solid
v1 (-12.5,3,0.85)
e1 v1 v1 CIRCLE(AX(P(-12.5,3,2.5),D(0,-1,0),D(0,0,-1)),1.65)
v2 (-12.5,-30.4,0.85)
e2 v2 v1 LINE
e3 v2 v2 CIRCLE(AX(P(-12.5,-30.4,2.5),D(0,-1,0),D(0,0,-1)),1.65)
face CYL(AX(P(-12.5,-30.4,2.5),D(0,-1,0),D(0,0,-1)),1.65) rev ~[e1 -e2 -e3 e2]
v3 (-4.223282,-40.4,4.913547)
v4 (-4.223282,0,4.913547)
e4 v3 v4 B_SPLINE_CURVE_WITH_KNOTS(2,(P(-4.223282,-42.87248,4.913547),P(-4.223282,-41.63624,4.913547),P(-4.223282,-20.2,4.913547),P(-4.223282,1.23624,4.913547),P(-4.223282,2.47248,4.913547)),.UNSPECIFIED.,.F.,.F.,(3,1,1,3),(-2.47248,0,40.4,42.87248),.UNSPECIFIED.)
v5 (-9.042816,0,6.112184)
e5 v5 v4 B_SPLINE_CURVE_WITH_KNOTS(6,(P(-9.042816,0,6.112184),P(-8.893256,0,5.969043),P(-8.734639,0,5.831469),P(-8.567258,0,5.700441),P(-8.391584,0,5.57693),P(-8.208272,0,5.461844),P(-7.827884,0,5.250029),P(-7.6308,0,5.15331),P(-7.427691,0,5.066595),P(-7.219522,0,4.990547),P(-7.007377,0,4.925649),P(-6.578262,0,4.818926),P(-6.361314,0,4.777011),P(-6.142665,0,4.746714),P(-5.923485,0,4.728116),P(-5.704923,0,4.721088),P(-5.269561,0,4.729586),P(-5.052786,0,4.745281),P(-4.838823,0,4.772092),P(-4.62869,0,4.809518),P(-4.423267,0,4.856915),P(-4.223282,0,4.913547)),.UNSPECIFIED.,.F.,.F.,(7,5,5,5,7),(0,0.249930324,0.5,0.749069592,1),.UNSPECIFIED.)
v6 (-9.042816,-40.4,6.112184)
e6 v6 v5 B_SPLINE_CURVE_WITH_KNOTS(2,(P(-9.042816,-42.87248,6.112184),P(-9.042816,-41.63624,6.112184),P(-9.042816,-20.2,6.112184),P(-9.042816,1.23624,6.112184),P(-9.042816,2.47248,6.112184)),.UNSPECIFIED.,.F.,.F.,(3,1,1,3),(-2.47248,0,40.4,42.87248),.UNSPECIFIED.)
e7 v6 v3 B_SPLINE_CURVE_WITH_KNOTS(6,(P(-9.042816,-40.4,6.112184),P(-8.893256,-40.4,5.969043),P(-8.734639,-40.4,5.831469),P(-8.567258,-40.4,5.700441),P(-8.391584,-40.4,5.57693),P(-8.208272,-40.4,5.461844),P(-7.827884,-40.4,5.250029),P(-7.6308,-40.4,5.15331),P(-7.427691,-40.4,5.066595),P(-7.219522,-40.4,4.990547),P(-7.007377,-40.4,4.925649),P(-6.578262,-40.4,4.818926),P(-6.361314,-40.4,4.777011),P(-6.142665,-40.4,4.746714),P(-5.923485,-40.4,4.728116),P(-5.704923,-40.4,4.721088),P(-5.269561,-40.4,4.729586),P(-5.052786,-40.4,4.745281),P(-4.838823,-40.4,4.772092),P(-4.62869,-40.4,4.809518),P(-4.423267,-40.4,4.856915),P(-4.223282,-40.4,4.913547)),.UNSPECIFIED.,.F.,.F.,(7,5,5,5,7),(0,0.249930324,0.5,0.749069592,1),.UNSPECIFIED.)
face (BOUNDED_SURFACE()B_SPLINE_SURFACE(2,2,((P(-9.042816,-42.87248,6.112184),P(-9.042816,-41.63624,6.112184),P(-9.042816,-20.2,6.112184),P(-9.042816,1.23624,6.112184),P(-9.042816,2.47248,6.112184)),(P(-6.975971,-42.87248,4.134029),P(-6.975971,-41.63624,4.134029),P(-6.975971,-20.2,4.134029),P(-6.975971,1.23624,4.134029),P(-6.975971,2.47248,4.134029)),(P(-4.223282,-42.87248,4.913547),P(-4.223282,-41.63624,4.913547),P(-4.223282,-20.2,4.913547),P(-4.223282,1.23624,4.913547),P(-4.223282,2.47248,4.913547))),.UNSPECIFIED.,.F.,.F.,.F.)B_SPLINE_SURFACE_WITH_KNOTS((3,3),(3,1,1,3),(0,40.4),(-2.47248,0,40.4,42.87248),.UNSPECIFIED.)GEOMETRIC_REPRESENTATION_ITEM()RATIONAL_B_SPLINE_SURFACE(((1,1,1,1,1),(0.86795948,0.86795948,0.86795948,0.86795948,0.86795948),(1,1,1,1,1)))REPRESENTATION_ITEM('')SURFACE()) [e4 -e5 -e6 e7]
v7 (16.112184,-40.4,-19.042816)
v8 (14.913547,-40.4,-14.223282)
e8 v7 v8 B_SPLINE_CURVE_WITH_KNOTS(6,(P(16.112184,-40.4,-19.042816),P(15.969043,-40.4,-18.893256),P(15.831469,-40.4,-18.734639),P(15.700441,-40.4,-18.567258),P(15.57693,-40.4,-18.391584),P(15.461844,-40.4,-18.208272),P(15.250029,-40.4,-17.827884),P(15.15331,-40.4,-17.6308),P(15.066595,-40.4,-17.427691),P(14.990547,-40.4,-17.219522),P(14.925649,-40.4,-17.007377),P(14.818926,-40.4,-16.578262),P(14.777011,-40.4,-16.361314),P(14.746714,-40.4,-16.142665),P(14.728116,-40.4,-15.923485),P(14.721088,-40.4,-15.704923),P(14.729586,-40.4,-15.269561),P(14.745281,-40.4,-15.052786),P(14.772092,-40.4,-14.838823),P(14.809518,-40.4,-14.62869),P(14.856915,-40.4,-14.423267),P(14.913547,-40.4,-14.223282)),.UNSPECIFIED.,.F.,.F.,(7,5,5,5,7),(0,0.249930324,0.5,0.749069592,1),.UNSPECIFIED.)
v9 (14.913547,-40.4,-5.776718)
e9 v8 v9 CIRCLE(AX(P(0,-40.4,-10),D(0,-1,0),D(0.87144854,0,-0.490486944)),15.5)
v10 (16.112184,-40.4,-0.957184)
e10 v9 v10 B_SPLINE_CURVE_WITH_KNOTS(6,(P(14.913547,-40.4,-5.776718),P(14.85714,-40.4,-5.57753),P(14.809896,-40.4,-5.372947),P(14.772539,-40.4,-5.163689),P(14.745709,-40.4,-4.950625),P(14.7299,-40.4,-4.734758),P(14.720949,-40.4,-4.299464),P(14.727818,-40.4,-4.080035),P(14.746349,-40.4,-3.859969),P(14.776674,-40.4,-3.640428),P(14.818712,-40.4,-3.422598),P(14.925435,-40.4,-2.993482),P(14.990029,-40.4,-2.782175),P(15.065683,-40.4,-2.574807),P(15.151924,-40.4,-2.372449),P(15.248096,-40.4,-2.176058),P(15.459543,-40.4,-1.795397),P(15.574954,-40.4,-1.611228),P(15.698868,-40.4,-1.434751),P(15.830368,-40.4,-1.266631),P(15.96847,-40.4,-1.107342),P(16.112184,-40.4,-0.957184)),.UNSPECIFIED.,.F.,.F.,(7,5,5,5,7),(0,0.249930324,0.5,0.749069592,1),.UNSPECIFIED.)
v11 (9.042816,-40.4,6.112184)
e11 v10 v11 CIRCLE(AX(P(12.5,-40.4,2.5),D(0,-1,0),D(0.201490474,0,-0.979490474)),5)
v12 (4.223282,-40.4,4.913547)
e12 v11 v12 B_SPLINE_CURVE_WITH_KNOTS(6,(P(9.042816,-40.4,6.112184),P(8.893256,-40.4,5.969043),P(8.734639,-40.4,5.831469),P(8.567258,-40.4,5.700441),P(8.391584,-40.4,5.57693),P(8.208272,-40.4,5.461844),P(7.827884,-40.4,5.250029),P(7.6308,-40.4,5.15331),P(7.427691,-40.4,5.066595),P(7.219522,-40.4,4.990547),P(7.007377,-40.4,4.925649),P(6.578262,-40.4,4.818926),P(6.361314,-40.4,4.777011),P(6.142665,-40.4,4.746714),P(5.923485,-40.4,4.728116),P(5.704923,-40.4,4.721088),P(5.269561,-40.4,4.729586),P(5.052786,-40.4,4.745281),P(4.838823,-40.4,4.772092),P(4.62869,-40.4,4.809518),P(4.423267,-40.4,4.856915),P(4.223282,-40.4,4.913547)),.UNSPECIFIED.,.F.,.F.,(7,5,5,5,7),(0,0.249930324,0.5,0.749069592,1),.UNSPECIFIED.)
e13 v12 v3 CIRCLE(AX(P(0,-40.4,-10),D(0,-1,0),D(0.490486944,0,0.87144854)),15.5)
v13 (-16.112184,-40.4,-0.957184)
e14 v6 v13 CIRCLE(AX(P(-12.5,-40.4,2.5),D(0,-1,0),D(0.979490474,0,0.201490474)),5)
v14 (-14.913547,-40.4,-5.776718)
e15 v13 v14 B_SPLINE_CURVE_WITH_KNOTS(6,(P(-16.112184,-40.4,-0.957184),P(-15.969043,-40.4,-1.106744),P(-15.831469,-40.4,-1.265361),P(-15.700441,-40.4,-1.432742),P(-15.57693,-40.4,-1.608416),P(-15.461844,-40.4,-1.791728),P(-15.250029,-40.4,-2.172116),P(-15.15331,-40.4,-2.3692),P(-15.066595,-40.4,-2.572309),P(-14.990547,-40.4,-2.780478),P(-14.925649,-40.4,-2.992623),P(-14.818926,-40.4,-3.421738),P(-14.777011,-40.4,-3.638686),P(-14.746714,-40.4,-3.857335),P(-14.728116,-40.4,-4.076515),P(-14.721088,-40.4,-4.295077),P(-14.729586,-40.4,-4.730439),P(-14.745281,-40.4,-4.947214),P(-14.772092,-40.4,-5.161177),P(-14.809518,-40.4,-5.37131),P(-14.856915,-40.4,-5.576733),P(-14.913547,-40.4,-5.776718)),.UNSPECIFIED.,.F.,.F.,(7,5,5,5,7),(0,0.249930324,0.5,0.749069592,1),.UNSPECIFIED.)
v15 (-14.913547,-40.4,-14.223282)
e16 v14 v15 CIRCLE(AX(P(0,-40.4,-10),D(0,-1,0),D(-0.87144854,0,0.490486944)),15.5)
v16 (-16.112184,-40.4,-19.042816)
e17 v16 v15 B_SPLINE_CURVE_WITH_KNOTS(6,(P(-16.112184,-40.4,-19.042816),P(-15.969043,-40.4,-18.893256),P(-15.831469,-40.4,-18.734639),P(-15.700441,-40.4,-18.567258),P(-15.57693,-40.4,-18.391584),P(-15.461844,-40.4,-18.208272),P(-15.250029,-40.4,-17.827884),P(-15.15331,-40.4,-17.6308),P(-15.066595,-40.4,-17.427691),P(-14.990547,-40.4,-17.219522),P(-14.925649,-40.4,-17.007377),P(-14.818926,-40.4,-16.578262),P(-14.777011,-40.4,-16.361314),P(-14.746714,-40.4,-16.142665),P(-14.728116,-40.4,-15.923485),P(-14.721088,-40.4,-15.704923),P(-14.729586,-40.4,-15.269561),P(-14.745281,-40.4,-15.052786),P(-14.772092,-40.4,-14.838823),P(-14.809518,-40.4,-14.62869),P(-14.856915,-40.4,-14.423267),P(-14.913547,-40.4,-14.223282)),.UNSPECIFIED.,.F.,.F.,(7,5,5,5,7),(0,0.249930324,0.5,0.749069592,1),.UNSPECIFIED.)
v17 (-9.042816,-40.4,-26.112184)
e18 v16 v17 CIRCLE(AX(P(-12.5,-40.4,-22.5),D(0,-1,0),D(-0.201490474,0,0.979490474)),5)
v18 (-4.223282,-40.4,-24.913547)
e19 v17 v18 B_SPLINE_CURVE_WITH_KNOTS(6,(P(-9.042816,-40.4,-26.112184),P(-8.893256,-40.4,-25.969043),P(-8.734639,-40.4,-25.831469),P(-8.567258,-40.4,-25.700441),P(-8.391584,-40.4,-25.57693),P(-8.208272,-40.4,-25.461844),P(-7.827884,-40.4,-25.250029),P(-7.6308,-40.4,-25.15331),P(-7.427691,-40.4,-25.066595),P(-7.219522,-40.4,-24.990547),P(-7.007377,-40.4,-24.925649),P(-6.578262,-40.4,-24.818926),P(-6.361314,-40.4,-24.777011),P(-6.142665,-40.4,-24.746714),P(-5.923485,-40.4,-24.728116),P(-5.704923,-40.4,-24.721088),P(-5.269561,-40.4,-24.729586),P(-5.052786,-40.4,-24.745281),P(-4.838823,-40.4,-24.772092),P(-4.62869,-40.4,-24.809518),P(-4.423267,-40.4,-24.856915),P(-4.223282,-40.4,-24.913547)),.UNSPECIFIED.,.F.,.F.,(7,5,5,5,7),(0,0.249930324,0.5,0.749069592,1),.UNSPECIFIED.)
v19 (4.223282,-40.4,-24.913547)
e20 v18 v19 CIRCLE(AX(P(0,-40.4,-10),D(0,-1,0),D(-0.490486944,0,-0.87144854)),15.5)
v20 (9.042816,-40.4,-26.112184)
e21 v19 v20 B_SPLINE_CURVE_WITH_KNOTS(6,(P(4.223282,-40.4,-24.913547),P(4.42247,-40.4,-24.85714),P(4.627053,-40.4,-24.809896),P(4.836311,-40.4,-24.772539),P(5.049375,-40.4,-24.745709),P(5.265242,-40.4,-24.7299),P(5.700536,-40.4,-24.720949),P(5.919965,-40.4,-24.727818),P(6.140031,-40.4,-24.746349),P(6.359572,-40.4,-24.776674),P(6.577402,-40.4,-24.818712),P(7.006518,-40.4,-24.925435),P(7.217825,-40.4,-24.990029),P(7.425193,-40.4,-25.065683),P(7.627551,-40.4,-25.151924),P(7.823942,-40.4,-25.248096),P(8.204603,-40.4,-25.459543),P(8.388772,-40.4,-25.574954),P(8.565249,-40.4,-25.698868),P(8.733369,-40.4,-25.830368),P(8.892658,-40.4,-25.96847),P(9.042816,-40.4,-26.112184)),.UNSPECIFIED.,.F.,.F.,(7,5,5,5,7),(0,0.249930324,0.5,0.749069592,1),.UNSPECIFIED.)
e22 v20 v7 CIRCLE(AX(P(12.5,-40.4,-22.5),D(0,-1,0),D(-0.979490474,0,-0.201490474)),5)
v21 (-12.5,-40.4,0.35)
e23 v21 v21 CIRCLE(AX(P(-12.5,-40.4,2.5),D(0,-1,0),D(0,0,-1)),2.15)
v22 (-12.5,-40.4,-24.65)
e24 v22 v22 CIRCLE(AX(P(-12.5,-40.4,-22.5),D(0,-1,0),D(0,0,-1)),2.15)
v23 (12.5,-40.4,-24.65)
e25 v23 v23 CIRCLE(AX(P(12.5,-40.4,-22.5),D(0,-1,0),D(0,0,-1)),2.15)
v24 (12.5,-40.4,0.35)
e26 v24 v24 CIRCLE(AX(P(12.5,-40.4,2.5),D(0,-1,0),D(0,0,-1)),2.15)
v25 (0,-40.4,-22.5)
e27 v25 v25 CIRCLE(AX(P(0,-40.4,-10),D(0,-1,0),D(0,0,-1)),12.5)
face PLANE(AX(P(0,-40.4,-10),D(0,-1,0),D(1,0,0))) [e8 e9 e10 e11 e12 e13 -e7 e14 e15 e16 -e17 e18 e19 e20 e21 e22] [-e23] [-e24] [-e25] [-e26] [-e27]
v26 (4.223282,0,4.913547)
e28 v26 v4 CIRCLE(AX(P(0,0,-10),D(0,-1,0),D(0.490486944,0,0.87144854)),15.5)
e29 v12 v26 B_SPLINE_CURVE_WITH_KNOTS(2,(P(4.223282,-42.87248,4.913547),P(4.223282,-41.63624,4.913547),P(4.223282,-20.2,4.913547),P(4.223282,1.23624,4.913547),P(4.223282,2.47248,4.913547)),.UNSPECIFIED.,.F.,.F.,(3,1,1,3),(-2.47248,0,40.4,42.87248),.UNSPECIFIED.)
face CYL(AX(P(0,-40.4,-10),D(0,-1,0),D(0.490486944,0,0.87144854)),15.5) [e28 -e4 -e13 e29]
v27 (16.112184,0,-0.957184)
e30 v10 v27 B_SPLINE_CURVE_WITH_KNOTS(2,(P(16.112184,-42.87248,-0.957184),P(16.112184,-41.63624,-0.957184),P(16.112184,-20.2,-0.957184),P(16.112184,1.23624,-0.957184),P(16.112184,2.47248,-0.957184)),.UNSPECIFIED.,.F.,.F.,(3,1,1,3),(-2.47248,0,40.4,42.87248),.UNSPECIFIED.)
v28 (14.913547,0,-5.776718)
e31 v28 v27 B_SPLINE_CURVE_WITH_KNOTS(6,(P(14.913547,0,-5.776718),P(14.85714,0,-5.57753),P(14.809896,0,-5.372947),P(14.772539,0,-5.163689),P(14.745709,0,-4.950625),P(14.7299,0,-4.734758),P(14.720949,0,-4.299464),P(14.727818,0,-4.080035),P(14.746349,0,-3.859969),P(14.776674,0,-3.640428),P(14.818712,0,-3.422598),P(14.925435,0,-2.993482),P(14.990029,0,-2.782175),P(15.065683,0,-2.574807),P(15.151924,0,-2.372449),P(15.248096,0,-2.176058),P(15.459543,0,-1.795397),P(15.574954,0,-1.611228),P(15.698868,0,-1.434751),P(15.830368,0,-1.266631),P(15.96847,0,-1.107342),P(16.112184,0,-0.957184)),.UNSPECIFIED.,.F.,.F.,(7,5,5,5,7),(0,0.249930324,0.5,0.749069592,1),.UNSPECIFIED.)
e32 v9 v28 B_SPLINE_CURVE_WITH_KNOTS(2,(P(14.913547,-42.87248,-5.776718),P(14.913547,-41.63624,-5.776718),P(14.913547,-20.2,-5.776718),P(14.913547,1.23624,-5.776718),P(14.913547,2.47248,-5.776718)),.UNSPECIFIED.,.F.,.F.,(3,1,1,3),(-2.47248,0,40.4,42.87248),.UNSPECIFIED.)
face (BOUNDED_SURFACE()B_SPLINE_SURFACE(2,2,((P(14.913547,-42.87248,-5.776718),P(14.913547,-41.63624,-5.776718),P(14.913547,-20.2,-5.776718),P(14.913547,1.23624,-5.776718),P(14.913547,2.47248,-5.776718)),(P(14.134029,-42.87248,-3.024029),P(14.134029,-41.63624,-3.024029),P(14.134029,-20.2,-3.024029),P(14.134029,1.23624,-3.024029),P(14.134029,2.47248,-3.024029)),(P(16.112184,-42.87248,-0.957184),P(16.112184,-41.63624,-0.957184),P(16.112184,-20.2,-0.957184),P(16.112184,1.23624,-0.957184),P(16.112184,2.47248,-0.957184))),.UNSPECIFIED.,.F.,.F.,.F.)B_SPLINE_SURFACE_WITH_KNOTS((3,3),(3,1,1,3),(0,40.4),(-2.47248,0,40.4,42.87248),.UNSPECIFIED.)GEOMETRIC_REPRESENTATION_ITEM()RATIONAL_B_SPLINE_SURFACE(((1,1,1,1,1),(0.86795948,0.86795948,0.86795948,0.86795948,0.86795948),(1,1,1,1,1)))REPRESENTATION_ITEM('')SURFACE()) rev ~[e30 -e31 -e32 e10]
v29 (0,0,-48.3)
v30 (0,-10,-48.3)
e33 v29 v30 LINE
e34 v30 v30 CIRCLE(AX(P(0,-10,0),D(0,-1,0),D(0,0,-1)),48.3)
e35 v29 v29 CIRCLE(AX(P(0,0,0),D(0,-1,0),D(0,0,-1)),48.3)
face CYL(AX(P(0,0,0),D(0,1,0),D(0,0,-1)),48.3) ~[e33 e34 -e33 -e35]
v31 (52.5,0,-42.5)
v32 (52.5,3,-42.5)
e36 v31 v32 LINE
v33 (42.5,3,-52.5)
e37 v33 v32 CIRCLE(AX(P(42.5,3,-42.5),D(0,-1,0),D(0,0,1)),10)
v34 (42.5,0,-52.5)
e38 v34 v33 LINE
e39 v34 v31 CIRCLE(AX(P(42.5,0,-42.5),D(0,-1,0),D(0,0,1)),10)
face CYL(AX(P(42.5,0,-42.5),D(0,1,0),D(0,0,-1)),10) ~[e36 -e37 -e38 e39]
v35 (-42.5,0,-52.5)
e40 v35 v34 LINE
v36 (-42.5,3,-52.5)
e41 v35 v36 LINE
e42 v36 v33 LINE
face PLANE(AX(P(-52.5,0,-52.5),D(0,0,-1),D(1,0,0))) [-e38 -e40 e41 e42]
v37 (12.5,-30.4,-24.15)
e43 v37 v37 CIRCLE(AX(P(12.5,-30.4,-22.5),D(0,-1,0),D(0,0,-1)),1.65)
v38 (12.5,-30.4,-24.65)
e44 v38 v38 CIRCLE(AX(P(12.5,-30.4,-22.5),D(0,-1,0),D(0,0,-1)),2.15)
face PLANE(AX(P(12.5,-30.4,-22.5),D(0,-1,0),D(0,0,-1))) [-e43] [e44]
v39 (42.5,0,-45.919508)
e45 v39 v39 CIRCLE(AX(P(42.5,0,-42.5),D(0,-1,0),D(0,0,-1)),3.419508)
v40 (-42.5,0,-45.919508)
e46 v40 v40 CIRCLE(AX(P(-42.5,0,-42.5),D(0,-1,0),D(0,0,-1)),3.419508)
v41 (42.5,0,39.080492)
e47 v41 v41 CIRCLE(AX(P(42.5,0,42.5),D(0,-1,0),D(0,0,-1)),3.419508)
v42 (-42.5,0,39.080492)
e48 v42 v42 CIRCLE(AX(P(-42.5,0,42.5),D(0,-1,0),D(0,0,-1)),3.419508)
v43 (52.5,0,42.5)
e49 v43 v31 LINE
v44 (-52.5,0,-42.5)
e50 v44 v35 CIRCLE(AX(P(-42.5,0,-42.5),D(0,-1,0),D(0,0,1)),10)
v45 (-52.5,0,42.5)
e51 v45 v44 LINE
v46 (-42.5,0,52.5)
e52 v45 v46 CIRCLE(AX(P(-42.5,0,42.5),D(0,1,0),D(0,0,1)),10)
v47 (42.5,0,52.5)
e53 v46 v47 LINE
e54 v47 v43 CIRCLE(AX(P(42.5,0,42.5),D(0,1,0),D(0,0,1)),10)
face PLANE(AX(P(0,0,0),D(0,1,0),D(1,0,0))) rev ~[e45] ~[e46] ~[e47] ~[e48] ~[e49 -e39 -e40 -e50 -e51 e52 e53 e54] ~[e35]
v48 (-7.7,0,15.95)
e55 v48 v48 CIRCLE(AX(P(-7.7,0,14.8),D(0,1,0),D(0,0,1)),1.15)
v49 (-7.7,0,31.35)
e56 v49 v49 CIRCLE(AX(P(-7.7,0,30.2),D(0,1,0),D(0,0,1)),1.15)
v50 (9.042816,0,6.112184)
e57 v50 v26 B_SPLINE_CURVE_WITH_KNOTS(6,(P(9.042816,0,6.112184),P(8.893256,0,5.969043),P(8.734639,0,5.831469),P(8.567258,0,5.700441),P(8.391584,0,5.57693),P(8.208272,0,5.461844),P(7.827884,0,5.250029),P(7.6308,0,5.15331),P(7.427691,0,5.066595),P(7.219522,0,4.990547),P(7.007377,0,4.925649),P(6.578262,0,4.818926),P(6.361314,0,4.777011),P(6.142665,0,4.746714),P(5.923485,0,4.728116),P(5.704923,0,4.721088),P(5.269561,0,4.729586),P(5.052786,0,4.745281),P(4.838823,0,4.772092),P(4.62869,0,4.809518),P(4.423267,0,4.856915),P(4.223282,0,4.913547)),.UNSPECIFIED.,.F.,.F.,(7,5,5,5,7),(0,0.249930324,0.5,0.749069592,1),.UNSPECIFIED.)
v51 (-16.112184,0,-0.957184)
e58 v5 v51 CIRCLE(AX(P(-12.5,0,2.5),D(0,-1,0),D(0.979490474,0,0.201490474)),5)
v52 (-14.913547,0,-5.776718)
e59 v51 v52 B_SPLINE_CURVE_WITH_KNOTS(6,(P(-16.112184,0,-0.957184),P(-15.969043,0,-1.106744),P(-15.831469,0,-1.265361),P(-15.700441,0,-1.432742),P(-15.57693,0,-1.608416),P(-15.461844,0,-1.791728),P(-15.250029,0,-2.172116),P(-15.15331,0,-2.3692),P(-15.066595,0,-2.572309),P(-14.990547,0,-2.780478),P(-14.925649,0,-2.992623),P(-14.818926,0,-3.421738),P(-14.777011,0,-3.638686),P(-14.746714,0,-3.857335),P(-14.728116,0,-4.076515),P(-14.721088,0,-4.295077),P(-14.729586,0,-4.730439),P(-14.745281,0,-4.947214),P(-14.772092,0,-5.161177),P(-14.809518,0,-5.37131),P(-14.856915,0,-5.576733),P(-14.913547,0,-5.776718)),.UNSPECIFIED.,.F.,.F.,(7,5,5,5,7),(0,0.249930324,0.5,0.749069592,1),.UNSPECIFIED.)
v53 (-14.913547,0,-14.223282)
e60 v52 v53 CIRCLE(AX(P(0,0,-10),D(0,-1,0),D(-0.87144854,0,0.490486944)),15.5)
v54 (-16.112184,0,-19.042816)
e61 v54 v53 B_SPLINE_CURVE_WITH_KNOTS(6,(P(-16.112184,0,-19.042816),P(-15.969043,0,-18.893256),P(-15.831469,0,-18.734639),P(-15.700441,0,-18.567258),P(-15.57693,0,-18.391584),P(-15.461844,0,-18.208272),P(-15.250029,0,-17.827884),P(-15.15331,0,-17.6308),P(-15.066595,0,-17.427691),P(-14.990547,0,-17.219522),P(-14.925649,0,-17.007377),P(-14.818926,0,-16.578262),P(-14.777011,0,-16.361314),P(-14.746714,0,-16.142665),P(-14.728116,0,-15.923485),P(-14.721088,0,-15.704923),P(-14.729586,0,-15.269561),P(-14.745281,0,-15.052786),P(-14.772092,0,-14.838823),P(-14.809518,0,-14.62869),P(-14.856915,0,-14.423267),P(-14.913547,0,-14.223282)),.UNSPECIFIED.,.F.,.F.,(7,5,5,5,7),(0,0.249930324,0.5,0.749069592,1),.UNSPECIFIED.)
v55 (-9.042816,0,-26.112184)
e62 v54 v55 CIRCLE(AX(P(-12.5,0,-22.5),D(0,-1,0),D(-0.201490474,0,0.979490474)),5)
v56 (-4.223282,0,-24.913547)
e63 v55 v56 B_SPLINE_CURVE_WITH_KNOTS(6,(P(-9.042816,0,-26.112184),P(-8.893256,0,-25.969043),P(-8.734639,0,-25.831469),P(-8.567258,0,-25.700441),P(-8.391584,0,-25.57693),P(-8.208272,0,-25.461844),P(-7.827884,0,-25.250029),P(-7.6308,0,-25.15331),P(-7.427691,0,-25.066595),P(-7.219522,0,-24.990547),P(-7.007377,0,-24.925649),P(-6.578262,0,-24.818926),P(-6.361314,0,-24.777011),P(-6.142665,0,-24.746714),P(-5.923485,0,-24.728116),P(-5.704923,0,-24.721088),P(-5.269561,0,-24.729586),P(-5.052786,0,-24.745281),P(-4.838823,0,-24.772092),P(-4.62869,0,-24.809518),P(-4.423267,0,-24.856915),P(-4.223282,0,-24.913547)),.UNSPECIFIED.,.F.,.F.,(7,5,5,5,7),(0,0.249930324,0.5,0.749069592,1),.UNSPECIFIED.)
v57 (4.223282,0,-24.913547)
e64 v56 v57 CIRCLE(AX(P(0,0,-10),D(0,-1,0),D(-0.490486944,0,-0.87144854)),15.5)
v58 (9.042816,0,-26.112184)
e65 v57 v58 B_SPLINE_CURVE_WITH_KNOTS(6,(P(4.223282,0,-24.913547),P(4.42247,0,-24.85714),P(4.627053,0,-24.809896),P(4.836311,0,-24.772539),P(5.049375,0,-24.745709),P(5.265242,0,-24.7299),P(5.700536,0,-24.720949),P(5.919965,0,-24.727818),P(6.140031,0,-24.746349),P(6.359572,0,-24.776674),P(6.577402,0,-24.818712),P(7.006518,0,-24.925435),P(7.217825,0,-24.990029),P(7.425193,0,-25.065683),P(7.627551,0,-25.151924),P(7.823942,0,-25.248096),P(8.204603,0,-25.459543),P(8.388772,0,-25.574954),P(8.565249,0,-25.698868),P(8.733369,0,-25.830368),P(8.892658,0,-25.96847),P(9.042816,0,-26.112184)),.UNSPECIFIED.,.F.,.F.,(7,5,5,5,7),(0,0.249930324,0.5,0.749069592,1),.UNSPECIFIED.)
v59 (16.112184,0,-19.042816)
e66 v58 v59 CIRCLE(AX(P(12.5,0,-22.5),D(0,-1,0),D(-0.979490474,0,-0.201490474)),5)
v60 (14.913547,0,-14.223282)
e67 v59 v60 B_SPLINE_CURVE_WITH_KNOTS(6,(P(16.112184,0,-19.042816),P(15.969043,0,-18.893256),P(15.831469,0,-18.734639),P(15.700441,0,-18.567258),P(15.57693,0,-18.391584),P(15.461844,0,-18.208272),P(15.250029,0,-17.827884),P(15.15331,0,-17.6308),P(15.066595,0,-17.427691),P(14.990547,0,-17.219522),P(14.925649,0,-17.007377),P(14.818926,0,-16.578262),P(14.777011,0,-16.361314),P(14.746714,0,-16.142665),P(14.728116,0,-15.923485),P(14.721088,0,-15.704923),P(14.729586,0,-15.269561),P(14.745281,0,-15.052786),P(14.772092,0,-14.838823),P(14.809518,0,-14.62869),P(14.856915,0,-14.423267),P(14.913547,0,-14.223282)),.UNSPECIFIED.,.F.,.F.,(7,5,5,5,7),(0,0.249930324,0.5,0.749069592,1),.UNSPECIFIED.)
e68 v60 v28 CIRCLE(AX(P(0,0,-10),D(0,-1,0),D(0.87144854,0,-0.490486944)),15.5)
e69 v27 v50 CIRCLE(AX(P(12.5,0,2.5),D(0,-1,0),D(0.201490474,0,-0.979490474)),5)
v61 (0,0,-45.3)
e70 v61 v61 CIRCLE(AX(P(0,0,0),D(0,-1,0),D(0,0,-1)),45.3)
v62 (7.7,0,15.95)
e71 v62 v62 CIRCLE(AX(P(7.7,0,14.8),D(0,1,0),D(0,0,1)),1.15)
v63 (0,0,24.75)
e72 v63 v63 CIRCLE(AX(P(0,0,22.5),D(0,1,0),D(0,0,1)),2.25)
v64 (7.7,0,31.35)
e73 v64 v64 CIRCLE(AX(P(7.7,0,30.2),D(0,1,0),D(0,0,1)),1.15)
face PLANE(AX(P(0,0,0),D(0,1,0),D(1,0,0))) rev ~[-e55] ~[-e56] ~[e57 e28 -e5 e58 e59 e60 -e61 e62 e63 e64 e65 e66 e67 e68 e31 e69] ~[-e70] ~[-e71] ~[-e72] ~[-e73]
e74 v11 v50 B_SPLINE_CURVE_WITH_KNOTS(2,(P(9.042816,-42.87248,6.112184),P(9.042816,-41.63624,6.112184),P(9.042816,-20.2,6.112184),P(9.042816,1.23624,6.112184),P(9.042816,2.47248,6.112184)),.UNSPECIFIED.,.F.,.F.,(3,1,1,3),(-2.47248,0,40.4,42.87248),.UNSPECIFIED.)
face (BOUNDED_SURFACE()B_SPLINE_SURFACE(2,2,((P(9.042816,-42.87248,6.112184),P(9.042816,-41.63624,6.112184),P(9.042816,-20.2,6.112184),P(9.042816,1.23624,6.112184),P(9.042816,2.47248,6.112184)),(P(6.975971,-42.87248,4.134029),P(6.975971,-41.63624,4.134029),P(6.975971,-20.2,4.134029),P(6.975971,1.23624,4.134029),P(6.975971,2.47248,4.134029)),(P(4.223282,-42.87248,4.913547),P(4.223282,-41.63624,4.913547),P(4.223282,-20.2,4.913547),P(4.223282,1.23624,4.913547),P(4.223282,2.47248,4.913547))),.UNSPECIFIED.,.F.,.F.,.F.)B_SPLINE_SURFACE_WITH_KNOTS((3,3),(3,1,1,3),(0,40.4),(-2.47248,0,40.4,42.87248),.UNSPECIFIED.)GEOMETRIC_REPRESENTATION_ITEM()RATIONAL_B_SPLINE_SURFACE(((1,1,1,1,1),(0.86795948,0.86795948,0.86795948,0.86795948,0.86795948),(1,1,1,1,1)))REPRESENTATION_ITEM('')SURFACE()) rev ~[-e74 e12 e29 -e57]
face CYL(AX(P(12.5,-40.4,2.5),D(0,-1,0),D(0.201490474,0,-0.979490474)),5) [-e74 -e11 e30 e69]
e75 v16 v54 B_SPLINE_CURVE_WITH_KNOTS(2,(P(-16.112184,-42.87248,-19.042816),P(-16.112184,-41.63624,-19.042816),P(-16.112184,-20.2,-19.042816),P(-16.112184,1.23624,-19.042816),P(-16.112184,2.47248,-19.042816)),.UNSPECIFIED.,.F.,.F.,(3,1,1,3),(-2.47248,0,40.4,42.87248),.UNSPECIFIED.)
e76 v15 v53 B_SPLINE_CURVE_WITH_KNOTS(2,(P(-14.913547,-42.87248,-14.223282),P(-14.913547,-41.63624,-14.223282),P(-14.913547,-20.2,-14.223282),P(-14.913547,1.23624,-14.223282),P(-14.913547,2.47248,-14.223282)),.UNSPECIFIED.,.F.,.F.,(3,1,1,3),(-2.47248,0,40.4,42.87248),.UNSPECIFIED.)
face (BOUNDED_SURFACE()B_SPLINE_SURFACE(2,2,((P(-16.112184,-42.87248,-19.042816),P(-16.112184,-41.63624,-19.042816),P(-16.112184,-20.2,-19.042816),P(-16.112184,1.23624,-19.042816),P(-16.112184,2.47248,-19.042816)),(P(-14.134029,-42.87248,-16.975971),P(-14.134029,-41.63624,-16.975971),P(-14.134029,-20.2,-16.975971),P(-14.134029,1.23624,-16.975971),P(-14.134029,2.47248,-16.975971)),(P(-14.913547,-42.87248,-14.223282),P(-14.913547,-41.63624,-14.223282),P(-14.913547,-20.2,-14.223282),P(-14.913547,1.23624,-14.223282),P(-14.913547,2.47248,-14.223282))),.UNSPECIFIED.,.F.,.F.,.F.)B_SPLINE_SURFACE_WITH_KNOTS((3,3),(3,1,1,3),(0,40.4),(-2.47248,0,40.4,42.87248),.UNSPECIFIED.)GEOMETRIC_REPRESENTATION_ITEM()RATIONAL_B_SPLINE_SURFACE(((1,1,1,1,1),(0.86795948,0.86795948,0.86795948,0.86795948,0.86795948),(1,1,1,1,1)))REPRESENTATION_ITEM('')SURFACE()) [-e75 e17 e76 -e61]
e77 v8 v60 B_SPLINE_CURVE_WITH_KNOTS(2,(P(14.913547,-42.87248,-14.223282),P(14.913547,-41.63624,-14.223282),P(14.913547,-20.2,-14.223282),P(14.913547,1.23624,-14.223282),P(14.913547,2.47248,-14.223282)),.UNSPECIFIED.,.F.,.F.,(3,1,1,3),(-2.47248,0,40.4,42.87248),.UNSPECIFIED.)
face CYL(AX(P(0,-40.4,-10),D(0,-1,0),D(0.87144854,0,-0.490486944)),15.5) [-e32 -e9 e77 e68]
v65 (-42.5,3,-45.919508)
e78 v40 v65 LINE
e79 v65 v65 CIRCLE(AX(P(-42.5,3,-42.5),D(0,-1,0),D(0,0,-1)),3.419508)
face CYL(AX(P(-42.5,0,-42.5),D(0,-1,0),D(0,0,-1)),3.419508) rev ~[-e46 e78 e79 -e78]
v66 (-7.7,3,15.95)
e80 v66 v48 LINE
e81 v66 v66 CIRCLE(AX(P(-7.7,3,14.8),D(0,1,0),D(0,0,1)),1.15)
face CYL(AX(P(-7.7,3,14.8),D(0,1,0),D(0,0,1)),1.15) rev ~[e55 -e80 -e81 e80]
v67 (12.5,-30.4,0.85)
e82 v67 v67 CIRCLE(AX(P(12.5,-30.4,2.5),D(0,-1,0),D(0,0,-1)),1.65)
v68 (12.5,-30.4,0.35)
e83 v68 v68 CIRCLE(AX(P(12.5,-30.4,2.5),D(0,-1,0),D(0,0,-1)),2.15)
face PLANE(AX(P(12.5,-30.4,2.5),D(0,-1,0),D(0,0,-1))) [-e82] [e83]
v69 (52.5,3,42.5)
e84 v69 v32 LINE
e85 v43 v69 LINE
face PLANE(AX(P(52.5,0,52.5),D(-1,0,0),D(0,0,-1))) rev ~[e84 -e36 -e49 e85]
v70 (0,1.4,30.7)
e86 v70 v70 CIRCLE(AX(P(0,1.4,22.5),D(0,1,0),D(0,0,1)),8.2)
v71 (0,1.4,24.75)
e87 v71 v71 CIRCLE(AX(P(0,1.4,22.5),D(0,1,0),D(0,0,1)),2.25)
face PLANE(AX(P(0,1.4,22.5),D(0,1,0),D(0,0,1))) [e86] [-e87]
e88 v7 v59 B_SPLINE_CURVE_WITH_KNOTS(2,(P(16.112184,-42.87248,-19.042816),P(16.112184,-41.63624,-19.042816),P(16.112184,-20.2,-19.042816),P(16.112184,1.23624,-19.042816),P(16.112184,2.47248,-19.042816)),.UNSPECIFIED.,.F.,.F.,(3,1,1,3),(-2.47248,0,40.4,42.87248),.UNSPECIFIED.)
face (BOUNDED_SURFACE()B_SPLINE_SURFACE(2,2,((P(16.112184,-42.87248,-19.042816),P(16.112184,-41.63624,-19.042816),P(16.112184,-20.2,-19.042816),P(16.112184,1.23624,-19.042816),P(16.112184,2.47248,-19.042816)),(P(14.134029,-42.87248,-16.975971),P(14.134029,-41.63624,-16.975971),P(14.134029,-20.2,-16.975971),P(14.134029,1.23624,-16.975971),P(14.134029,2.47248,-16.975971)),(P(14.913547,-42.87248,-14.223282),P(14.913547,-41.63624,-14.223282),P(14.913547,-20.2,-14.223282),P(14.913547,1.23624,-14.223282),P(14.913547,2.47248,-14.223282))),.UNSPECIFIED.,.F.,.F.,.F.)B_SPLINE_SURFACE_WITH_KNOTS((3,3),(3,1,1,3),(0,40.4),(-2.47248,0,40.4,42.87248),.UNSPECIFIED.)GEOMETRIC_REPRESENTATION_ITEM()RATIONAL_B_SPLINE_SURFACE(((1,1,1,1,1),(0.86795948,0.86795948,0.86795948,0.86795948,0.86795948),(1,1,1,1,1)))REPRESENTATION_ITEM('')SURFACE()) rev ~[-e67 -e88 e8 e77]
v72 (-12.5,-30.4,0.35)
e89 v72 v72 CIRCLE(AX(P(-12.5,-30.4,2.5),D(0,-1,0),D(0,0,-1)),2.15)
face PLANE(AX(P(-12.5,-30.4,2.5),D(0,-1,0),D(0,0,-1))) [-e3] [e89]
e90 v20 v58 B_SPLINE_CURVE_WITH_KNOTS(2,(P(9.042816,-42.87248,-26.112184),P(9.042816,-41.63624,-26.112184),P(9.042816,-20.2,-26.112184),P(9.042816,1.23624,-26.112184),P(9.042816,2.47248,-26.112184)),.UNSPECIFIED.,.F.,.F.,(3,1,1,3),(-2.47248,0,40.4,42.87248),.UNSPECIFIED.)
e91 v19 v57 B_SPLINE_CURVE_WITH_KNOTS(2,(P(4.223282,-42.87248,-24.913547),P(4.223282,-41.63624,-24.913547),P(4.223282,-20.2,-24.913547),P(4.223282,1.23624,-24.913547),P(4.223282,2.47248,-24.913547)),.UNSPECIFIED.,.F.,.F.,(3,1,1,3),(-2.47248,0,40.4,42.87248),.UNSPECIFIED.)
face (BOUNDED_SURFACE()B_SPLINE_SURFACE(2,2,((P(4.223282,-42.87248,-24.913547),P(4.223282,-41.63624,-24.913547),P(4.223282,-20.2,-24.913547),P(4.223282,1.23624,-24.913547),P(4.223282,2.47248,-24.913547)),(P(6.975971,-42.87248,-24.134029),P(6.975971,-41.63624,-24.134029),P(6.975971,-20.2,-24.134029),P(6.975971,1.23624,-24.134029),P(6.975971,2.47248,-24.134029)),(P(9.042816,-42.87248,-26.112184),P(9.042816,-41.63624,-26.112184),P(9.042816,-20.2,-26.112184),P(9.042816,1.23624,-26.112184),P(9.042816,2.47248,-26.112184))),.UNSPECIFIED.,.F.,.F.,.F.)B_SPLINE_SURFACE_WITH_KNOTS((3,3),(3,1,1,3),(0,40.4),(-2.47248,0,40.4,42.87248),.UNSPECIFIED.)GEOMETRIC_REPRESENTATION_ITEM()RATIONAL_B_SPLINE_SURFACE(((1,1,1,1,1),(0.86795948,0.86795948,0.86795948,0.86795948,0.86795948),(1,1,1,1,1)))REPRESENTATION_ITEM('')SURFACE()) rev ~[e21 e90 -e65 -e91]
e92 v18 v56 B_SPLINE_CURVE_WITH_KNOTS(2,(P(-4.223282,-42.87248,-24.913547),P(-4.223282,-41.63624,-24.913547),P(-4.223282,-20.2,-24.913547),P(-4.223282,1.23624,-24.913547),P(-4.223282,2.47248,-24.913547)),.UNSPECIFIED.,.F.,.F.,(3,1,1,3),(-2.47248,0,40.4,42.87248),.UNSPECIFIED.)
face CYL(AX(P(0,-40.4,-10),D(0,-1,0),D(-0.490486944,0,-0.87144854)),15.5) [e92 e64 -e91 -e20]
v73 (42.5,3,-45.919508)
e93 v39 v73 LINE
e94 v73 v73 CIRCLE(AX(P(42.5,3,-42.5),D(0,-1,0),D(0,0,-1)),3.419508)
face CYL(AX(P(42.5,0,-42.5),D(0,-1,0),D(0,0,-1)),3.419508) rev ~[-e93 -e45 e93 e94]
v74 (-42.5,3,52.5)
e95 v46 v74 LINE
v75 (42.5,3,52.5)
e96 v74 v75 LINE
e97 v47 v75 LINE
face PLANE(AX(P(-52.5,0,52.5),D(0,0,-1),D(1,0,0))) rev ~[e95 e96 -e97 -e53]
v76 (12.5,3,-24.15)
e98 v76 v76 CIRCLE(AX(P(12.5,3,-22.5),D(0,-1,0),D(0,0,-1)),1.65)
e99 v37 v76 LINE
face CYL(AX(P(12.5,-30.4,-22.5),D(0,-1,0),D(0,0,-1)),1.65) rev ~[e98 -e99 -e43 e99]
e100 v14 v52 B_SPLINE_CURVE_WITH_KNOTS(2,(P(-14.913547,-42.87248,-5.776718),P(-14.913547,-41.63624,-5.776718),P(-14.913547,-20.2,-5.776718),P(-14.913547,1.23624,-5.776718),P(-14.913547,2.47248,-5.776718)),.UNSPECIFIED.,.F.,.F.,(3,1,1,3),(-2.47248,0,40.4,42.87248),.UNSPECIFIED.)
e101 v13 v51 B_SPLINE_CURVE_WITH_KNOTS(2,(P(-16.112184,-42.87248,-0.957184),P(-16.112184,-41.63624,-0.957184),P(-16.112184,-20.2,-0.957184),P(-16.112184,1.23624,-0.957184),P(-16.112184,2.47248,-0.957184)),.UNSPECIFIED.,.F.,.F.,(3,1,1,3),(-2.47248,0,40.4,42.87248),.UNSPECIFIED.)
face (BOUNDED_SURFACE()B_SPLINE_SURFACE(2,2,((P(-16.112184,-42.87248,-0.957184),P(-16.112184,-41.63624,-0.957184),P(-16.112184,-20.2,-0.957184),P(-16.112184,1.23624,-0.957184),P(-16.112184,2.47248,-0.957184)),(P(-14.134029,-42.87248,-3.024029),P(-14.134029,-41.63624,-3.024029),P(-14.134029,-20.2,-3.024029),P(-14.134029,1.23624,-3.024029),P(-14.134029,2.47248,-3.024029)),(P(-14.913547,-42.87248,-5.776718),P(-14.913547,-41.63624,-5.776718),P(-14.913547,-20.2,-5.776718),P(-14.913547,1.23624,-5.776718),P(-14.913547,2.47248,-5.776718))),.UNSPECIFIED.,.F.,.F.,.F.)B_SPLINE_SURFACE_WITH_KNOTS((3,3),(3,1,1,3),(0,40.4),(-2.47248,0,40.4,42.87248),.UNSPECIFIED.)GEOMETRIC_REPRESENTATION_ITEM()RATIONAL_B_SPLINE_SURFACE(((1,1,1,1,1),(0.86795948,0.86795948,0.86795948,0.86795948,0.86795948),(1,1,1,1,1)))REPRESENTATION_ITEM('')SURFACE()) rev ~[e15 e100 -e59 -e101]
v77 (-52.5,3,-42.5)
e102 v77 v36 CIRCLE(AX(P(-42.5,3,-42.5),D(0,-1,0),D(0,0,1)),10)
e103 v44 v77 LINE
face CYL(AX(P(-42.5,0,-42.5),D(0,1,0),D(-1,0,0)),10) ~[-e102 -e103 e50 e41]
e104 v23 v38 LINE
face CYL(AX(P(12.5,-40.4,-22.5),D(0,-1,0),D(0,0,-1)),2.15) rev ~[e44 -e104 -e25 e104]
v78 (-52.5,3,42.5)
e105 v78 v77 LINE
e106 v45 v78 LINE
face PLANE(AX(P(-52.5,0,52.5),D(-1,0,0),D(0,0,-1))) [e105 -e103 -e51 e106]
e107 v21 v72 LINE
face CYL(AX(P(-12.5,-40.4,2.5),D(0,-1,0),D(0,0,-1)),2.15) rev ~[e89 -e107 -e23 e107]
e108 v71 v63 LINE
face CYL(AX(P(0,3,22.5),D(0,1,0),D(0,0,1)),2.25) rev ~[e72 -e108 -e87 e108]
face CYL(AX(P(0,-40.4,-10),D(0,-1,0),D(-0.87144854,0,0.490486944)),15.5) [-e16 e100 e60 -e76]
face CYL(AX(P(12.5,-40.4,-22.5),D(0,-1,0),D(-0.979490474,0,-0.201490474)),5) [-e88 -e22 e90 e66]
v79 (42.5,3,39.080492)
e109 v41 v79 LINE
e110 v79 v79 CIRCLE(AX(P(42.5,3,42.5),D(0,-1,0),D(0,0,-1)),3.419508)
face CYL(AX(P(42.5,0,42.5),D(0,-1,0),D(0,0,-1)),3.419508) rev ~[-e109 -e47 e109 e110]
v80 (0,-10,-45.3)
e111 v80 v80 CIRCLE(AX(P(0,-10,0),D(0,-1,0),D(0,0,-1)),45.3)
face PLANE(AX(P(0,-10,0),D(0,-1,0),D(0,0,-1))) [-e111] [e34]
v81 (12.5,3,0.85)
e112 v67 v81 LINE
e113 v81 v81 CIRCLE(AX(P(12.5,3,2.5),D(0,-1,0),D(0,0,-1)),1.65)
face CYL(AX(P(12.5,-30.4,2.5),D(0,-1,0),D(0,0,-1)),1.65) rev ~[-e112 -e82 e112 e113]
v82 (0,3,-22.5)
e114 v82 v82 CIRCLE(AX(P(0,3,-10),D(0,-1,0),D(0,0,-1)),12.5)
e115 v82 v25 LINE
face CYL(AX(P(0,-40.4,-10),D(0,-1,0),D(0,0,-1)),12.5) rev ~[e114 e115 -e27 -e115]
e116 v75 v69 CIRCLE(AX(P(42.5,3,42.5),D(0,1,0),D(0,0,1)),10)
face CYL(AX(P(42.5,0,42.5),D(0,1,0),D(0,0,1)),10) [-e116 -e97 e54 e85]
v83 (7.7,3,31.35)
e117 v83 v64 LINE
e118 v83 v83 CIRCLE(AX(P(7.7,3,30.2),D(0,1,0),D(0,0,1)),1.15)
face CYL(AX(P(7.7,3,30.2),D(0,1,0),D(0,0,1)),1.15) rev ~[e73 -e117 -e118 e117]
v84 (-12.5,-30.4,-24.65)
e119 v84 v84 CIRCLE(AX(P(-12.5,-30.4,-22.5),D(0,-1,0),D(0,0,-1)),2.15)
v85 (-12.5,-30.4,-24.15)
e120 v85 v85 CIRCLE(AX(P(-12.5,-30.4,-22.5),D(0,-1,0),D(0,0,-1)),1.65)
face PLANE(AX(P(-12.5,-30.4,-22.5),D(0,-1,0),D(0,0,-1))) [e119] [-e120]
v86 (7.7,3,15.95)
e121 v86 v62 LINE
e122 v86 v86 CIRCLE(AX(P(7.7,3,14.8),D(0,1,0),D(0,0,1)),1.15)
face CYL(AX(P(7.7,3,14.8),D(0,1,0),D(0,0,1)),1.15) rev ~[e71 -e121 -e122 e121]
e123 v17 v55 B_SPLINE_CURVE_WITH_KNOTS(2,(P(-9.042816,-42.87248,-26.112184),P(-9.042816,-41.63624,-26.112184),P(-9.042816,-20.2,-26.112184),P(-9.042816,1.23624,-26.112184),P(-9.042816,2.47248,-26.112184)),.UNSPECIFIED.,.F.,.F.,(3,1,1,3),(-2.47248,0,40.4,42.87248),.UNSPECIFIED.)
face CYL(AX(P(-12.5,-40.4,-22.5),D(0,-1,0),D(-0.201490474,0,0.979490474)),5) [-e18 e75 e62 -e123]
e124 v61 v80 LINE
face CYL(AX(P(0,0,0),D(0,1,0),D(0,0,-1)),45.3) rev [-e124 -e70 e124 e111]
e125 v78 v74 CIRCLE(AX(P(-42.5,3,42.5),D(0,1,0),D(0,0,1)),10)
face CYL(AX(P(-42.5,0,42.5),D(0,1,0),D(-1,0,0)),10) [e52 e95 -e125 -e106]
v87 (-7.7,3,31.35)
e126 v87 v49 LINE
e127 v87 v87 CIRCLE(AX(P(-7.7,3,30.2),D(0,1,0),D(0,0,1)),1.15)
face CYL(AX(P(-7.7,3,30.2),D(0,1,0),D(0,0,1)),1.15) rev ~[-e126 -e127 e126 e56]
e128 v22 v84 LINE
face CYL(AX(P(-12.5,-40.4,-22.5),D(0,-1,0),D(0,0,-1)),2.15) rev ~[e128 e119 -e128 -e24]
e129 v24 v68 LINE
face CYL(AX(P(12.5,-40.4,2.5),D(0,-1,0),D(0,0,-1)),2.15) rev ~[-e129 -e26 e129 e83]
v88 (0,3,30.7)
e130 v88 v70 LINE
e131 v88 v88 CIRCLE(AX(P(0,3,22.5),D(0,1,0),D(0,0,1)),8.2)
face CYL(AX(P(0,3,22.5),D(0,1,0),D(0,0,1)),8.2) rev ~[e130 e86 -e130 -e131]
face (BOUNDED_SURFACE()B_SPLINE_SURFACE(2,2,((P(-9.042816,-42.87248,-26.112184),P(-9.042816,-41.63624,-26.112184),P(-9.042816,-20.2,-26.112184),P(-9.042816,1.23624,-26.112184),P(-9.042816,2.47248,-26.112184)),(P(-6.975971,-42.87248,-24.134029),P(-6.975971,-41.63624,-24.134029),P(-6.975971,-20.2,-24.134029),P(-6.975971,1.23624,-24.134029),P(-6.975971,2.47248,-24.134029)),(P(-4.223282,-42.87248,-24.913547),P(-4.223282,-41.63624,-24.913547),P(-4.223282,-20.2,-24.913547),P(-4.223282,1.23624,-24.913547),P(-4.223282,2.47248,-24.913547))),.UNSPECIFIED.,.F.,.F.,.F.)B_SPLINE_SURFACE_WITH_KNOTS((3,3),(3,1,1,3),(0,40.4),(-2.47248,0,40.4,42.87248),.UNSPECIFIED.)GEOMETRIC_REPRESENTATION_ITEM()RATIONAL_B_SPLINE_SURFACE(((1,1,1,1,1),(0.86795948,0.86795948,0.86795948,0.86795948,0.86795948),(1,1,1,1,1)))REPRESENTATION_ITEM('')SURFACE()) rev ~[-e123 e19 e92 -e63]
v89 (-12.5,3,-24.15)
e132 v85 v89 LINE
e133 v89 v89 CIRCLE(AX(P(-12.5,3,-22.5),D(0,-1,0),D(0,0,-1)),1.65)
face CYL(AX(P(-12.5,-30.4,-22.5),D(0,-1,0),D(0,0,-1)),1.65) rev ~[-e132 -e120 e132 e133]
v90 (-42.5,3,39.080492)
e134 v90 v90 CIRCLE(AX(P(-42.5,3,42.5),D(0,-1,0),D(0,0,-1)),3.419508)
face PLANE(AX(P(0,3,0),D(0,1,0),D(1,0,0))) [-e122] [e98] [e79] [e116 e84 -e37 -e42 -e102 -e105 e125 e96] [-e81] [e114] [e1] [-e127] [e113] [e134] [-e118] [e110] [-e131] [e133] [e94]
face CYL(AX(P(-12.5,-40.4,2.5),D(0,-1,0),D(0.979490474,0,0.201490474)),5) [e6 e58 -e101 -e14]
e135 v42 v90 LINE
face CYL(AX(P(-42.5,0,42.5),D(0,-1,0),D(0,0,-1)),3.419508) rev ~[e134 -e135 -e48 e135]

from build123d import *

# Parameters (mm, degrees)
SKETCH1_W           = 105
SKETCH1_H           = 105
BOSS_EXTRUDE1_DEPTH = 3
SKETCH3_R           = 1.15
SKETCH3_R_2         = 2.25
CUT_EXTRUDE1_DEPTH  = 75.306796459
SKETCH4_R           = 8.2
CUT_EXTRUDE2_DEPTH  = 1.6
SKETCH5_R           = 48.3
SKETCH5_R_2         = 45.3
BOSS_EXTRUDE3_DEPTH = 10
SKETCH6_R           = 12.5
CUT_EXTRUDE3_DEPTH  = 75.916620319
BOSS_EXTRUDE4_START = 40.4
SKETCH7_R           = 12.5
BOSS_EXTRUDE4_DEPTH = 40.4
FILLET1_R           = 5
SKETCH8_R           = 2.15
CUT_EXTRUDE4_DEPTH  = 10
SKETCH9_R           = 1.65
CUT_EXTRUDE5_DEPTH  = 82.412898241
FILLET2_R           = 10
SKETCH10_R          = 3.419507724
CUT_EXTRUDE6_DEPTH  = 85.526090694


with BuildPart() as part:
    # Sketch1 → Boss-Extrude1 (new body)
    with BuildSketch(Plane(origin=(0, 0, 0), x_dir=(1, 0, 0), z_dir=(0, 1, 0))):
        Rectangle(SKETCH1_W, SKETCH1_H)
    extrude(amount=BOSS_EXTRUDE1_DEPTH)

    # Sketch3 → Cut-Extrude1 (cut, through all)
    with BuildSketch(Plane(origin=(0, 3, 0), x_dir=(1, 0, 0), z_dir=(0, 1, 0))):
        with Locations(Location((-7.7, -30.2, 0), (0, 0, 270))):
            Circle(SKETCH3_R)
        with Locations(Location((7.7, -30.2, 0), (0, 0, 270))):
            Circle(SKETCH3_R)
        with Locations(Location((7.7, -14.8, 0), (0, 0, 270))):
            Circle(SKETCH3_R)
        with Locations(Location((-7.7, -14.8, 0), (0, 0, 270))):
            Circle(SKETCH3_R)
        with Locations(Location((0, -22.5, 0), (0, 0, 270))):
            Circle(SKETCH3_R_2)
    extrude(amount=-CUT_EXTRUDE1_DEPTH, mode=Mode.SUBTRACT)

    # Sketch4 → Cut-Extrude2 (cut)
    with BuildSketch(Plane(origin=(0, 3, 0), x_dir=(1, 0, 0), z_dir=(0, 1, 0))):
        with Locations(Location((0, -22.5, 0), (0, 0, 270))):
            Circle(SKETCH4_R)
    extrude(amount=-CUT_EXTRUDE2_DEPTH, mode=Mode.SUBTRACT)

    # Sketch5 → Boss-Extrude3 (add)
    with BuildSketch(Plane.XZ):
        with Locations(Location((0, 0, 0), (0, 0, 270))):
            Circle(SKETCH5_R)
        with Locations(Location((0, 0, 0), (0, 0, 270))):
            Circle(SKETCH5_R_2, mode=Mode.SUBTRACT)
    extrude(amount=BOSS_EXTRUDE3_DEPTH)

    # Sketch6 → Cut-Extrude3 (cut, through all)
    with BuildSketch(Plane.XZ):
        with Locations(Location((0, -10, 0), (0, 0, 270))):
            Circle(SKETCH6_R)
    extrude(amount=-CUT_EXTRUDE3_DEPTH, mode=Mode.SUBTRACT)

    # Sketch7 → Boss-Extrude4 (add)
    with BuildSketch(Plane.XZ.offset(BOSS_EXTRUDE4_START)):
        with BuildLine():
            ThreePointArc((-7.60254763, 3.50745237), (-16.035533906, 6.035533906), (-13.50745237, -2.39745237))
            ThreePointArc((-13.50745237, -2.39745237), (-15.5, -10), (-13.50745237, -17.60254763))
            ThreePointArc((-13.50745237, -17.60254763), (-16.035533906, -26.035533906), (-7.60254763, -23.50745237))
            ThreePointArc((-7.60254763, -23.50745237), (0, -25.5), (7.60254763, -23.50745237))
            ThreePointArc((7.60254763, -23.50745237), (16.035533906, -26.035533906), (13.50745237, -17.60254763))
            ThreePointArc((13.50745237, -17.60254763), (15.5, -10), (13.50745237, -2.39745237))
            ThreePointArc((13.50745237, -2.39745237), (16.035533906, 6.035533906), (7.60254763, 3.50745237))
            ThreePointArc((7.60254763, 3.50745237), (0, 5.5), (-7.60254763, 3.50745237))
        make_face()
        with Locations(Location((0, -10, 0), (0, 0, 270))):
            Circle(SKETCH7_R, mode=Mode.SUBTRACT)
    extrude(amount=-BOSS_EXTRUDE4_DEPTH)

    # Fillet1
    fillet1_edges = [part.edges().sort_by_distance(p)[0] for p in [
        (7.60254763, -20.2, 3.50745237),
        (-7.60254763, -20.2, 3.50745237),
        (-13.50745237, -20.2, -2.39745237),
        (-13.50745237, -20.2, -17.60254763),
        (-7.60254763, -20.2, -23.50745237),
        (7.60254763, -20.2, -23.50745237),
        (13.50745237, -20.2, -17.60254763),
        (13.50745237, -20.2, -2.39745237),
    ]]
    fillet(fillet1_edges, radius=FILLET1_R)

    # Sketch8 → Cut-Extrude4 (cut)
    with BuildSketch(Plane.XZ.offset(40.4)):
        with Locations(Location((-12.5, -22.5, 0), (0, 0, 270))):
            Circle(SKETCH8_R)
        with Locations(Location((12.5, -22.5, 0), (0, 0, 270))):
            Circle(SKETCH8_R)
        with Locations(Location((-12.5, 2.5, 0), (0, 0, 270))):
            Circle(SKETCH8_R)
        with Locations(Location((12.5, 2.5, 0), (0, 0, 270))):
            Circle(SKETCH8_R)
    extrude(amount=-CUT_EXTRUDE4_DEPTH, mode=Mode.SUBTRACT)

    # Sketch9 → Cut-Extrude5 (cut, through all)
    with BuildSketch(Plane.XZ.offset(30.4)):
        with Locations(Location((12.5, -22.5, 0), (0, 0, 270))):
            Circle(SKETCH9_R)
        with Locations(Location((-12.5, -22.5, 0), (0, 0, 270))):
            Circle(SKETCH9_R)
        with Locations(Location((-12.5, 2.5, 0), (0, 0, 270))):
            Circle(SKETCH9_R)
        with Locations(Location((12.5, 2.5, 0), (0, 0, 270))):
            Circle(SKETCH9_R)
    extrude(amount=-CUT_EXTRUDE5_DEPTH, mode=Mode.SUBTRACT)

    # Fillet2
    fillet2_edges = [part.edges().sort_by_distance(p)[0] for p in [
        (-52.5, 1.5, -52.5),
        (52.5, 1.5, -52.5),
        (52.5, 1.5, 52.5),
        (-52.5, 1.5, 52.5),
    ]]
    fillet(fillet2_edges, radius=FILLET2_R)

    # Sketch10 → Cut-Extrude6 (cut, through all)
    with BuildSketch(Plane.XZ):
        with Locations(Location((-42.5, -42.5, 0), (0, 0, 270))):
            Circle(SKETCH10_R)
        with Locations(Location((42.5, -42.5, 0), (0, 0, 270))):
            Circle(SKETCH10_R)
        with Locations(Location((42.5, 42.5, 0), (0, 0, 270))):
            Circle(SKETCH10_R)
        with Locations(Location((-42.5, 42.5, 0), (0, 0, 270))):
            Circle(SKETCH10_R)
    extrude(amount=-CUT_EXTRUDE6_DEPTH, mode=Mode.SUBTRACT)


solid = part.part
